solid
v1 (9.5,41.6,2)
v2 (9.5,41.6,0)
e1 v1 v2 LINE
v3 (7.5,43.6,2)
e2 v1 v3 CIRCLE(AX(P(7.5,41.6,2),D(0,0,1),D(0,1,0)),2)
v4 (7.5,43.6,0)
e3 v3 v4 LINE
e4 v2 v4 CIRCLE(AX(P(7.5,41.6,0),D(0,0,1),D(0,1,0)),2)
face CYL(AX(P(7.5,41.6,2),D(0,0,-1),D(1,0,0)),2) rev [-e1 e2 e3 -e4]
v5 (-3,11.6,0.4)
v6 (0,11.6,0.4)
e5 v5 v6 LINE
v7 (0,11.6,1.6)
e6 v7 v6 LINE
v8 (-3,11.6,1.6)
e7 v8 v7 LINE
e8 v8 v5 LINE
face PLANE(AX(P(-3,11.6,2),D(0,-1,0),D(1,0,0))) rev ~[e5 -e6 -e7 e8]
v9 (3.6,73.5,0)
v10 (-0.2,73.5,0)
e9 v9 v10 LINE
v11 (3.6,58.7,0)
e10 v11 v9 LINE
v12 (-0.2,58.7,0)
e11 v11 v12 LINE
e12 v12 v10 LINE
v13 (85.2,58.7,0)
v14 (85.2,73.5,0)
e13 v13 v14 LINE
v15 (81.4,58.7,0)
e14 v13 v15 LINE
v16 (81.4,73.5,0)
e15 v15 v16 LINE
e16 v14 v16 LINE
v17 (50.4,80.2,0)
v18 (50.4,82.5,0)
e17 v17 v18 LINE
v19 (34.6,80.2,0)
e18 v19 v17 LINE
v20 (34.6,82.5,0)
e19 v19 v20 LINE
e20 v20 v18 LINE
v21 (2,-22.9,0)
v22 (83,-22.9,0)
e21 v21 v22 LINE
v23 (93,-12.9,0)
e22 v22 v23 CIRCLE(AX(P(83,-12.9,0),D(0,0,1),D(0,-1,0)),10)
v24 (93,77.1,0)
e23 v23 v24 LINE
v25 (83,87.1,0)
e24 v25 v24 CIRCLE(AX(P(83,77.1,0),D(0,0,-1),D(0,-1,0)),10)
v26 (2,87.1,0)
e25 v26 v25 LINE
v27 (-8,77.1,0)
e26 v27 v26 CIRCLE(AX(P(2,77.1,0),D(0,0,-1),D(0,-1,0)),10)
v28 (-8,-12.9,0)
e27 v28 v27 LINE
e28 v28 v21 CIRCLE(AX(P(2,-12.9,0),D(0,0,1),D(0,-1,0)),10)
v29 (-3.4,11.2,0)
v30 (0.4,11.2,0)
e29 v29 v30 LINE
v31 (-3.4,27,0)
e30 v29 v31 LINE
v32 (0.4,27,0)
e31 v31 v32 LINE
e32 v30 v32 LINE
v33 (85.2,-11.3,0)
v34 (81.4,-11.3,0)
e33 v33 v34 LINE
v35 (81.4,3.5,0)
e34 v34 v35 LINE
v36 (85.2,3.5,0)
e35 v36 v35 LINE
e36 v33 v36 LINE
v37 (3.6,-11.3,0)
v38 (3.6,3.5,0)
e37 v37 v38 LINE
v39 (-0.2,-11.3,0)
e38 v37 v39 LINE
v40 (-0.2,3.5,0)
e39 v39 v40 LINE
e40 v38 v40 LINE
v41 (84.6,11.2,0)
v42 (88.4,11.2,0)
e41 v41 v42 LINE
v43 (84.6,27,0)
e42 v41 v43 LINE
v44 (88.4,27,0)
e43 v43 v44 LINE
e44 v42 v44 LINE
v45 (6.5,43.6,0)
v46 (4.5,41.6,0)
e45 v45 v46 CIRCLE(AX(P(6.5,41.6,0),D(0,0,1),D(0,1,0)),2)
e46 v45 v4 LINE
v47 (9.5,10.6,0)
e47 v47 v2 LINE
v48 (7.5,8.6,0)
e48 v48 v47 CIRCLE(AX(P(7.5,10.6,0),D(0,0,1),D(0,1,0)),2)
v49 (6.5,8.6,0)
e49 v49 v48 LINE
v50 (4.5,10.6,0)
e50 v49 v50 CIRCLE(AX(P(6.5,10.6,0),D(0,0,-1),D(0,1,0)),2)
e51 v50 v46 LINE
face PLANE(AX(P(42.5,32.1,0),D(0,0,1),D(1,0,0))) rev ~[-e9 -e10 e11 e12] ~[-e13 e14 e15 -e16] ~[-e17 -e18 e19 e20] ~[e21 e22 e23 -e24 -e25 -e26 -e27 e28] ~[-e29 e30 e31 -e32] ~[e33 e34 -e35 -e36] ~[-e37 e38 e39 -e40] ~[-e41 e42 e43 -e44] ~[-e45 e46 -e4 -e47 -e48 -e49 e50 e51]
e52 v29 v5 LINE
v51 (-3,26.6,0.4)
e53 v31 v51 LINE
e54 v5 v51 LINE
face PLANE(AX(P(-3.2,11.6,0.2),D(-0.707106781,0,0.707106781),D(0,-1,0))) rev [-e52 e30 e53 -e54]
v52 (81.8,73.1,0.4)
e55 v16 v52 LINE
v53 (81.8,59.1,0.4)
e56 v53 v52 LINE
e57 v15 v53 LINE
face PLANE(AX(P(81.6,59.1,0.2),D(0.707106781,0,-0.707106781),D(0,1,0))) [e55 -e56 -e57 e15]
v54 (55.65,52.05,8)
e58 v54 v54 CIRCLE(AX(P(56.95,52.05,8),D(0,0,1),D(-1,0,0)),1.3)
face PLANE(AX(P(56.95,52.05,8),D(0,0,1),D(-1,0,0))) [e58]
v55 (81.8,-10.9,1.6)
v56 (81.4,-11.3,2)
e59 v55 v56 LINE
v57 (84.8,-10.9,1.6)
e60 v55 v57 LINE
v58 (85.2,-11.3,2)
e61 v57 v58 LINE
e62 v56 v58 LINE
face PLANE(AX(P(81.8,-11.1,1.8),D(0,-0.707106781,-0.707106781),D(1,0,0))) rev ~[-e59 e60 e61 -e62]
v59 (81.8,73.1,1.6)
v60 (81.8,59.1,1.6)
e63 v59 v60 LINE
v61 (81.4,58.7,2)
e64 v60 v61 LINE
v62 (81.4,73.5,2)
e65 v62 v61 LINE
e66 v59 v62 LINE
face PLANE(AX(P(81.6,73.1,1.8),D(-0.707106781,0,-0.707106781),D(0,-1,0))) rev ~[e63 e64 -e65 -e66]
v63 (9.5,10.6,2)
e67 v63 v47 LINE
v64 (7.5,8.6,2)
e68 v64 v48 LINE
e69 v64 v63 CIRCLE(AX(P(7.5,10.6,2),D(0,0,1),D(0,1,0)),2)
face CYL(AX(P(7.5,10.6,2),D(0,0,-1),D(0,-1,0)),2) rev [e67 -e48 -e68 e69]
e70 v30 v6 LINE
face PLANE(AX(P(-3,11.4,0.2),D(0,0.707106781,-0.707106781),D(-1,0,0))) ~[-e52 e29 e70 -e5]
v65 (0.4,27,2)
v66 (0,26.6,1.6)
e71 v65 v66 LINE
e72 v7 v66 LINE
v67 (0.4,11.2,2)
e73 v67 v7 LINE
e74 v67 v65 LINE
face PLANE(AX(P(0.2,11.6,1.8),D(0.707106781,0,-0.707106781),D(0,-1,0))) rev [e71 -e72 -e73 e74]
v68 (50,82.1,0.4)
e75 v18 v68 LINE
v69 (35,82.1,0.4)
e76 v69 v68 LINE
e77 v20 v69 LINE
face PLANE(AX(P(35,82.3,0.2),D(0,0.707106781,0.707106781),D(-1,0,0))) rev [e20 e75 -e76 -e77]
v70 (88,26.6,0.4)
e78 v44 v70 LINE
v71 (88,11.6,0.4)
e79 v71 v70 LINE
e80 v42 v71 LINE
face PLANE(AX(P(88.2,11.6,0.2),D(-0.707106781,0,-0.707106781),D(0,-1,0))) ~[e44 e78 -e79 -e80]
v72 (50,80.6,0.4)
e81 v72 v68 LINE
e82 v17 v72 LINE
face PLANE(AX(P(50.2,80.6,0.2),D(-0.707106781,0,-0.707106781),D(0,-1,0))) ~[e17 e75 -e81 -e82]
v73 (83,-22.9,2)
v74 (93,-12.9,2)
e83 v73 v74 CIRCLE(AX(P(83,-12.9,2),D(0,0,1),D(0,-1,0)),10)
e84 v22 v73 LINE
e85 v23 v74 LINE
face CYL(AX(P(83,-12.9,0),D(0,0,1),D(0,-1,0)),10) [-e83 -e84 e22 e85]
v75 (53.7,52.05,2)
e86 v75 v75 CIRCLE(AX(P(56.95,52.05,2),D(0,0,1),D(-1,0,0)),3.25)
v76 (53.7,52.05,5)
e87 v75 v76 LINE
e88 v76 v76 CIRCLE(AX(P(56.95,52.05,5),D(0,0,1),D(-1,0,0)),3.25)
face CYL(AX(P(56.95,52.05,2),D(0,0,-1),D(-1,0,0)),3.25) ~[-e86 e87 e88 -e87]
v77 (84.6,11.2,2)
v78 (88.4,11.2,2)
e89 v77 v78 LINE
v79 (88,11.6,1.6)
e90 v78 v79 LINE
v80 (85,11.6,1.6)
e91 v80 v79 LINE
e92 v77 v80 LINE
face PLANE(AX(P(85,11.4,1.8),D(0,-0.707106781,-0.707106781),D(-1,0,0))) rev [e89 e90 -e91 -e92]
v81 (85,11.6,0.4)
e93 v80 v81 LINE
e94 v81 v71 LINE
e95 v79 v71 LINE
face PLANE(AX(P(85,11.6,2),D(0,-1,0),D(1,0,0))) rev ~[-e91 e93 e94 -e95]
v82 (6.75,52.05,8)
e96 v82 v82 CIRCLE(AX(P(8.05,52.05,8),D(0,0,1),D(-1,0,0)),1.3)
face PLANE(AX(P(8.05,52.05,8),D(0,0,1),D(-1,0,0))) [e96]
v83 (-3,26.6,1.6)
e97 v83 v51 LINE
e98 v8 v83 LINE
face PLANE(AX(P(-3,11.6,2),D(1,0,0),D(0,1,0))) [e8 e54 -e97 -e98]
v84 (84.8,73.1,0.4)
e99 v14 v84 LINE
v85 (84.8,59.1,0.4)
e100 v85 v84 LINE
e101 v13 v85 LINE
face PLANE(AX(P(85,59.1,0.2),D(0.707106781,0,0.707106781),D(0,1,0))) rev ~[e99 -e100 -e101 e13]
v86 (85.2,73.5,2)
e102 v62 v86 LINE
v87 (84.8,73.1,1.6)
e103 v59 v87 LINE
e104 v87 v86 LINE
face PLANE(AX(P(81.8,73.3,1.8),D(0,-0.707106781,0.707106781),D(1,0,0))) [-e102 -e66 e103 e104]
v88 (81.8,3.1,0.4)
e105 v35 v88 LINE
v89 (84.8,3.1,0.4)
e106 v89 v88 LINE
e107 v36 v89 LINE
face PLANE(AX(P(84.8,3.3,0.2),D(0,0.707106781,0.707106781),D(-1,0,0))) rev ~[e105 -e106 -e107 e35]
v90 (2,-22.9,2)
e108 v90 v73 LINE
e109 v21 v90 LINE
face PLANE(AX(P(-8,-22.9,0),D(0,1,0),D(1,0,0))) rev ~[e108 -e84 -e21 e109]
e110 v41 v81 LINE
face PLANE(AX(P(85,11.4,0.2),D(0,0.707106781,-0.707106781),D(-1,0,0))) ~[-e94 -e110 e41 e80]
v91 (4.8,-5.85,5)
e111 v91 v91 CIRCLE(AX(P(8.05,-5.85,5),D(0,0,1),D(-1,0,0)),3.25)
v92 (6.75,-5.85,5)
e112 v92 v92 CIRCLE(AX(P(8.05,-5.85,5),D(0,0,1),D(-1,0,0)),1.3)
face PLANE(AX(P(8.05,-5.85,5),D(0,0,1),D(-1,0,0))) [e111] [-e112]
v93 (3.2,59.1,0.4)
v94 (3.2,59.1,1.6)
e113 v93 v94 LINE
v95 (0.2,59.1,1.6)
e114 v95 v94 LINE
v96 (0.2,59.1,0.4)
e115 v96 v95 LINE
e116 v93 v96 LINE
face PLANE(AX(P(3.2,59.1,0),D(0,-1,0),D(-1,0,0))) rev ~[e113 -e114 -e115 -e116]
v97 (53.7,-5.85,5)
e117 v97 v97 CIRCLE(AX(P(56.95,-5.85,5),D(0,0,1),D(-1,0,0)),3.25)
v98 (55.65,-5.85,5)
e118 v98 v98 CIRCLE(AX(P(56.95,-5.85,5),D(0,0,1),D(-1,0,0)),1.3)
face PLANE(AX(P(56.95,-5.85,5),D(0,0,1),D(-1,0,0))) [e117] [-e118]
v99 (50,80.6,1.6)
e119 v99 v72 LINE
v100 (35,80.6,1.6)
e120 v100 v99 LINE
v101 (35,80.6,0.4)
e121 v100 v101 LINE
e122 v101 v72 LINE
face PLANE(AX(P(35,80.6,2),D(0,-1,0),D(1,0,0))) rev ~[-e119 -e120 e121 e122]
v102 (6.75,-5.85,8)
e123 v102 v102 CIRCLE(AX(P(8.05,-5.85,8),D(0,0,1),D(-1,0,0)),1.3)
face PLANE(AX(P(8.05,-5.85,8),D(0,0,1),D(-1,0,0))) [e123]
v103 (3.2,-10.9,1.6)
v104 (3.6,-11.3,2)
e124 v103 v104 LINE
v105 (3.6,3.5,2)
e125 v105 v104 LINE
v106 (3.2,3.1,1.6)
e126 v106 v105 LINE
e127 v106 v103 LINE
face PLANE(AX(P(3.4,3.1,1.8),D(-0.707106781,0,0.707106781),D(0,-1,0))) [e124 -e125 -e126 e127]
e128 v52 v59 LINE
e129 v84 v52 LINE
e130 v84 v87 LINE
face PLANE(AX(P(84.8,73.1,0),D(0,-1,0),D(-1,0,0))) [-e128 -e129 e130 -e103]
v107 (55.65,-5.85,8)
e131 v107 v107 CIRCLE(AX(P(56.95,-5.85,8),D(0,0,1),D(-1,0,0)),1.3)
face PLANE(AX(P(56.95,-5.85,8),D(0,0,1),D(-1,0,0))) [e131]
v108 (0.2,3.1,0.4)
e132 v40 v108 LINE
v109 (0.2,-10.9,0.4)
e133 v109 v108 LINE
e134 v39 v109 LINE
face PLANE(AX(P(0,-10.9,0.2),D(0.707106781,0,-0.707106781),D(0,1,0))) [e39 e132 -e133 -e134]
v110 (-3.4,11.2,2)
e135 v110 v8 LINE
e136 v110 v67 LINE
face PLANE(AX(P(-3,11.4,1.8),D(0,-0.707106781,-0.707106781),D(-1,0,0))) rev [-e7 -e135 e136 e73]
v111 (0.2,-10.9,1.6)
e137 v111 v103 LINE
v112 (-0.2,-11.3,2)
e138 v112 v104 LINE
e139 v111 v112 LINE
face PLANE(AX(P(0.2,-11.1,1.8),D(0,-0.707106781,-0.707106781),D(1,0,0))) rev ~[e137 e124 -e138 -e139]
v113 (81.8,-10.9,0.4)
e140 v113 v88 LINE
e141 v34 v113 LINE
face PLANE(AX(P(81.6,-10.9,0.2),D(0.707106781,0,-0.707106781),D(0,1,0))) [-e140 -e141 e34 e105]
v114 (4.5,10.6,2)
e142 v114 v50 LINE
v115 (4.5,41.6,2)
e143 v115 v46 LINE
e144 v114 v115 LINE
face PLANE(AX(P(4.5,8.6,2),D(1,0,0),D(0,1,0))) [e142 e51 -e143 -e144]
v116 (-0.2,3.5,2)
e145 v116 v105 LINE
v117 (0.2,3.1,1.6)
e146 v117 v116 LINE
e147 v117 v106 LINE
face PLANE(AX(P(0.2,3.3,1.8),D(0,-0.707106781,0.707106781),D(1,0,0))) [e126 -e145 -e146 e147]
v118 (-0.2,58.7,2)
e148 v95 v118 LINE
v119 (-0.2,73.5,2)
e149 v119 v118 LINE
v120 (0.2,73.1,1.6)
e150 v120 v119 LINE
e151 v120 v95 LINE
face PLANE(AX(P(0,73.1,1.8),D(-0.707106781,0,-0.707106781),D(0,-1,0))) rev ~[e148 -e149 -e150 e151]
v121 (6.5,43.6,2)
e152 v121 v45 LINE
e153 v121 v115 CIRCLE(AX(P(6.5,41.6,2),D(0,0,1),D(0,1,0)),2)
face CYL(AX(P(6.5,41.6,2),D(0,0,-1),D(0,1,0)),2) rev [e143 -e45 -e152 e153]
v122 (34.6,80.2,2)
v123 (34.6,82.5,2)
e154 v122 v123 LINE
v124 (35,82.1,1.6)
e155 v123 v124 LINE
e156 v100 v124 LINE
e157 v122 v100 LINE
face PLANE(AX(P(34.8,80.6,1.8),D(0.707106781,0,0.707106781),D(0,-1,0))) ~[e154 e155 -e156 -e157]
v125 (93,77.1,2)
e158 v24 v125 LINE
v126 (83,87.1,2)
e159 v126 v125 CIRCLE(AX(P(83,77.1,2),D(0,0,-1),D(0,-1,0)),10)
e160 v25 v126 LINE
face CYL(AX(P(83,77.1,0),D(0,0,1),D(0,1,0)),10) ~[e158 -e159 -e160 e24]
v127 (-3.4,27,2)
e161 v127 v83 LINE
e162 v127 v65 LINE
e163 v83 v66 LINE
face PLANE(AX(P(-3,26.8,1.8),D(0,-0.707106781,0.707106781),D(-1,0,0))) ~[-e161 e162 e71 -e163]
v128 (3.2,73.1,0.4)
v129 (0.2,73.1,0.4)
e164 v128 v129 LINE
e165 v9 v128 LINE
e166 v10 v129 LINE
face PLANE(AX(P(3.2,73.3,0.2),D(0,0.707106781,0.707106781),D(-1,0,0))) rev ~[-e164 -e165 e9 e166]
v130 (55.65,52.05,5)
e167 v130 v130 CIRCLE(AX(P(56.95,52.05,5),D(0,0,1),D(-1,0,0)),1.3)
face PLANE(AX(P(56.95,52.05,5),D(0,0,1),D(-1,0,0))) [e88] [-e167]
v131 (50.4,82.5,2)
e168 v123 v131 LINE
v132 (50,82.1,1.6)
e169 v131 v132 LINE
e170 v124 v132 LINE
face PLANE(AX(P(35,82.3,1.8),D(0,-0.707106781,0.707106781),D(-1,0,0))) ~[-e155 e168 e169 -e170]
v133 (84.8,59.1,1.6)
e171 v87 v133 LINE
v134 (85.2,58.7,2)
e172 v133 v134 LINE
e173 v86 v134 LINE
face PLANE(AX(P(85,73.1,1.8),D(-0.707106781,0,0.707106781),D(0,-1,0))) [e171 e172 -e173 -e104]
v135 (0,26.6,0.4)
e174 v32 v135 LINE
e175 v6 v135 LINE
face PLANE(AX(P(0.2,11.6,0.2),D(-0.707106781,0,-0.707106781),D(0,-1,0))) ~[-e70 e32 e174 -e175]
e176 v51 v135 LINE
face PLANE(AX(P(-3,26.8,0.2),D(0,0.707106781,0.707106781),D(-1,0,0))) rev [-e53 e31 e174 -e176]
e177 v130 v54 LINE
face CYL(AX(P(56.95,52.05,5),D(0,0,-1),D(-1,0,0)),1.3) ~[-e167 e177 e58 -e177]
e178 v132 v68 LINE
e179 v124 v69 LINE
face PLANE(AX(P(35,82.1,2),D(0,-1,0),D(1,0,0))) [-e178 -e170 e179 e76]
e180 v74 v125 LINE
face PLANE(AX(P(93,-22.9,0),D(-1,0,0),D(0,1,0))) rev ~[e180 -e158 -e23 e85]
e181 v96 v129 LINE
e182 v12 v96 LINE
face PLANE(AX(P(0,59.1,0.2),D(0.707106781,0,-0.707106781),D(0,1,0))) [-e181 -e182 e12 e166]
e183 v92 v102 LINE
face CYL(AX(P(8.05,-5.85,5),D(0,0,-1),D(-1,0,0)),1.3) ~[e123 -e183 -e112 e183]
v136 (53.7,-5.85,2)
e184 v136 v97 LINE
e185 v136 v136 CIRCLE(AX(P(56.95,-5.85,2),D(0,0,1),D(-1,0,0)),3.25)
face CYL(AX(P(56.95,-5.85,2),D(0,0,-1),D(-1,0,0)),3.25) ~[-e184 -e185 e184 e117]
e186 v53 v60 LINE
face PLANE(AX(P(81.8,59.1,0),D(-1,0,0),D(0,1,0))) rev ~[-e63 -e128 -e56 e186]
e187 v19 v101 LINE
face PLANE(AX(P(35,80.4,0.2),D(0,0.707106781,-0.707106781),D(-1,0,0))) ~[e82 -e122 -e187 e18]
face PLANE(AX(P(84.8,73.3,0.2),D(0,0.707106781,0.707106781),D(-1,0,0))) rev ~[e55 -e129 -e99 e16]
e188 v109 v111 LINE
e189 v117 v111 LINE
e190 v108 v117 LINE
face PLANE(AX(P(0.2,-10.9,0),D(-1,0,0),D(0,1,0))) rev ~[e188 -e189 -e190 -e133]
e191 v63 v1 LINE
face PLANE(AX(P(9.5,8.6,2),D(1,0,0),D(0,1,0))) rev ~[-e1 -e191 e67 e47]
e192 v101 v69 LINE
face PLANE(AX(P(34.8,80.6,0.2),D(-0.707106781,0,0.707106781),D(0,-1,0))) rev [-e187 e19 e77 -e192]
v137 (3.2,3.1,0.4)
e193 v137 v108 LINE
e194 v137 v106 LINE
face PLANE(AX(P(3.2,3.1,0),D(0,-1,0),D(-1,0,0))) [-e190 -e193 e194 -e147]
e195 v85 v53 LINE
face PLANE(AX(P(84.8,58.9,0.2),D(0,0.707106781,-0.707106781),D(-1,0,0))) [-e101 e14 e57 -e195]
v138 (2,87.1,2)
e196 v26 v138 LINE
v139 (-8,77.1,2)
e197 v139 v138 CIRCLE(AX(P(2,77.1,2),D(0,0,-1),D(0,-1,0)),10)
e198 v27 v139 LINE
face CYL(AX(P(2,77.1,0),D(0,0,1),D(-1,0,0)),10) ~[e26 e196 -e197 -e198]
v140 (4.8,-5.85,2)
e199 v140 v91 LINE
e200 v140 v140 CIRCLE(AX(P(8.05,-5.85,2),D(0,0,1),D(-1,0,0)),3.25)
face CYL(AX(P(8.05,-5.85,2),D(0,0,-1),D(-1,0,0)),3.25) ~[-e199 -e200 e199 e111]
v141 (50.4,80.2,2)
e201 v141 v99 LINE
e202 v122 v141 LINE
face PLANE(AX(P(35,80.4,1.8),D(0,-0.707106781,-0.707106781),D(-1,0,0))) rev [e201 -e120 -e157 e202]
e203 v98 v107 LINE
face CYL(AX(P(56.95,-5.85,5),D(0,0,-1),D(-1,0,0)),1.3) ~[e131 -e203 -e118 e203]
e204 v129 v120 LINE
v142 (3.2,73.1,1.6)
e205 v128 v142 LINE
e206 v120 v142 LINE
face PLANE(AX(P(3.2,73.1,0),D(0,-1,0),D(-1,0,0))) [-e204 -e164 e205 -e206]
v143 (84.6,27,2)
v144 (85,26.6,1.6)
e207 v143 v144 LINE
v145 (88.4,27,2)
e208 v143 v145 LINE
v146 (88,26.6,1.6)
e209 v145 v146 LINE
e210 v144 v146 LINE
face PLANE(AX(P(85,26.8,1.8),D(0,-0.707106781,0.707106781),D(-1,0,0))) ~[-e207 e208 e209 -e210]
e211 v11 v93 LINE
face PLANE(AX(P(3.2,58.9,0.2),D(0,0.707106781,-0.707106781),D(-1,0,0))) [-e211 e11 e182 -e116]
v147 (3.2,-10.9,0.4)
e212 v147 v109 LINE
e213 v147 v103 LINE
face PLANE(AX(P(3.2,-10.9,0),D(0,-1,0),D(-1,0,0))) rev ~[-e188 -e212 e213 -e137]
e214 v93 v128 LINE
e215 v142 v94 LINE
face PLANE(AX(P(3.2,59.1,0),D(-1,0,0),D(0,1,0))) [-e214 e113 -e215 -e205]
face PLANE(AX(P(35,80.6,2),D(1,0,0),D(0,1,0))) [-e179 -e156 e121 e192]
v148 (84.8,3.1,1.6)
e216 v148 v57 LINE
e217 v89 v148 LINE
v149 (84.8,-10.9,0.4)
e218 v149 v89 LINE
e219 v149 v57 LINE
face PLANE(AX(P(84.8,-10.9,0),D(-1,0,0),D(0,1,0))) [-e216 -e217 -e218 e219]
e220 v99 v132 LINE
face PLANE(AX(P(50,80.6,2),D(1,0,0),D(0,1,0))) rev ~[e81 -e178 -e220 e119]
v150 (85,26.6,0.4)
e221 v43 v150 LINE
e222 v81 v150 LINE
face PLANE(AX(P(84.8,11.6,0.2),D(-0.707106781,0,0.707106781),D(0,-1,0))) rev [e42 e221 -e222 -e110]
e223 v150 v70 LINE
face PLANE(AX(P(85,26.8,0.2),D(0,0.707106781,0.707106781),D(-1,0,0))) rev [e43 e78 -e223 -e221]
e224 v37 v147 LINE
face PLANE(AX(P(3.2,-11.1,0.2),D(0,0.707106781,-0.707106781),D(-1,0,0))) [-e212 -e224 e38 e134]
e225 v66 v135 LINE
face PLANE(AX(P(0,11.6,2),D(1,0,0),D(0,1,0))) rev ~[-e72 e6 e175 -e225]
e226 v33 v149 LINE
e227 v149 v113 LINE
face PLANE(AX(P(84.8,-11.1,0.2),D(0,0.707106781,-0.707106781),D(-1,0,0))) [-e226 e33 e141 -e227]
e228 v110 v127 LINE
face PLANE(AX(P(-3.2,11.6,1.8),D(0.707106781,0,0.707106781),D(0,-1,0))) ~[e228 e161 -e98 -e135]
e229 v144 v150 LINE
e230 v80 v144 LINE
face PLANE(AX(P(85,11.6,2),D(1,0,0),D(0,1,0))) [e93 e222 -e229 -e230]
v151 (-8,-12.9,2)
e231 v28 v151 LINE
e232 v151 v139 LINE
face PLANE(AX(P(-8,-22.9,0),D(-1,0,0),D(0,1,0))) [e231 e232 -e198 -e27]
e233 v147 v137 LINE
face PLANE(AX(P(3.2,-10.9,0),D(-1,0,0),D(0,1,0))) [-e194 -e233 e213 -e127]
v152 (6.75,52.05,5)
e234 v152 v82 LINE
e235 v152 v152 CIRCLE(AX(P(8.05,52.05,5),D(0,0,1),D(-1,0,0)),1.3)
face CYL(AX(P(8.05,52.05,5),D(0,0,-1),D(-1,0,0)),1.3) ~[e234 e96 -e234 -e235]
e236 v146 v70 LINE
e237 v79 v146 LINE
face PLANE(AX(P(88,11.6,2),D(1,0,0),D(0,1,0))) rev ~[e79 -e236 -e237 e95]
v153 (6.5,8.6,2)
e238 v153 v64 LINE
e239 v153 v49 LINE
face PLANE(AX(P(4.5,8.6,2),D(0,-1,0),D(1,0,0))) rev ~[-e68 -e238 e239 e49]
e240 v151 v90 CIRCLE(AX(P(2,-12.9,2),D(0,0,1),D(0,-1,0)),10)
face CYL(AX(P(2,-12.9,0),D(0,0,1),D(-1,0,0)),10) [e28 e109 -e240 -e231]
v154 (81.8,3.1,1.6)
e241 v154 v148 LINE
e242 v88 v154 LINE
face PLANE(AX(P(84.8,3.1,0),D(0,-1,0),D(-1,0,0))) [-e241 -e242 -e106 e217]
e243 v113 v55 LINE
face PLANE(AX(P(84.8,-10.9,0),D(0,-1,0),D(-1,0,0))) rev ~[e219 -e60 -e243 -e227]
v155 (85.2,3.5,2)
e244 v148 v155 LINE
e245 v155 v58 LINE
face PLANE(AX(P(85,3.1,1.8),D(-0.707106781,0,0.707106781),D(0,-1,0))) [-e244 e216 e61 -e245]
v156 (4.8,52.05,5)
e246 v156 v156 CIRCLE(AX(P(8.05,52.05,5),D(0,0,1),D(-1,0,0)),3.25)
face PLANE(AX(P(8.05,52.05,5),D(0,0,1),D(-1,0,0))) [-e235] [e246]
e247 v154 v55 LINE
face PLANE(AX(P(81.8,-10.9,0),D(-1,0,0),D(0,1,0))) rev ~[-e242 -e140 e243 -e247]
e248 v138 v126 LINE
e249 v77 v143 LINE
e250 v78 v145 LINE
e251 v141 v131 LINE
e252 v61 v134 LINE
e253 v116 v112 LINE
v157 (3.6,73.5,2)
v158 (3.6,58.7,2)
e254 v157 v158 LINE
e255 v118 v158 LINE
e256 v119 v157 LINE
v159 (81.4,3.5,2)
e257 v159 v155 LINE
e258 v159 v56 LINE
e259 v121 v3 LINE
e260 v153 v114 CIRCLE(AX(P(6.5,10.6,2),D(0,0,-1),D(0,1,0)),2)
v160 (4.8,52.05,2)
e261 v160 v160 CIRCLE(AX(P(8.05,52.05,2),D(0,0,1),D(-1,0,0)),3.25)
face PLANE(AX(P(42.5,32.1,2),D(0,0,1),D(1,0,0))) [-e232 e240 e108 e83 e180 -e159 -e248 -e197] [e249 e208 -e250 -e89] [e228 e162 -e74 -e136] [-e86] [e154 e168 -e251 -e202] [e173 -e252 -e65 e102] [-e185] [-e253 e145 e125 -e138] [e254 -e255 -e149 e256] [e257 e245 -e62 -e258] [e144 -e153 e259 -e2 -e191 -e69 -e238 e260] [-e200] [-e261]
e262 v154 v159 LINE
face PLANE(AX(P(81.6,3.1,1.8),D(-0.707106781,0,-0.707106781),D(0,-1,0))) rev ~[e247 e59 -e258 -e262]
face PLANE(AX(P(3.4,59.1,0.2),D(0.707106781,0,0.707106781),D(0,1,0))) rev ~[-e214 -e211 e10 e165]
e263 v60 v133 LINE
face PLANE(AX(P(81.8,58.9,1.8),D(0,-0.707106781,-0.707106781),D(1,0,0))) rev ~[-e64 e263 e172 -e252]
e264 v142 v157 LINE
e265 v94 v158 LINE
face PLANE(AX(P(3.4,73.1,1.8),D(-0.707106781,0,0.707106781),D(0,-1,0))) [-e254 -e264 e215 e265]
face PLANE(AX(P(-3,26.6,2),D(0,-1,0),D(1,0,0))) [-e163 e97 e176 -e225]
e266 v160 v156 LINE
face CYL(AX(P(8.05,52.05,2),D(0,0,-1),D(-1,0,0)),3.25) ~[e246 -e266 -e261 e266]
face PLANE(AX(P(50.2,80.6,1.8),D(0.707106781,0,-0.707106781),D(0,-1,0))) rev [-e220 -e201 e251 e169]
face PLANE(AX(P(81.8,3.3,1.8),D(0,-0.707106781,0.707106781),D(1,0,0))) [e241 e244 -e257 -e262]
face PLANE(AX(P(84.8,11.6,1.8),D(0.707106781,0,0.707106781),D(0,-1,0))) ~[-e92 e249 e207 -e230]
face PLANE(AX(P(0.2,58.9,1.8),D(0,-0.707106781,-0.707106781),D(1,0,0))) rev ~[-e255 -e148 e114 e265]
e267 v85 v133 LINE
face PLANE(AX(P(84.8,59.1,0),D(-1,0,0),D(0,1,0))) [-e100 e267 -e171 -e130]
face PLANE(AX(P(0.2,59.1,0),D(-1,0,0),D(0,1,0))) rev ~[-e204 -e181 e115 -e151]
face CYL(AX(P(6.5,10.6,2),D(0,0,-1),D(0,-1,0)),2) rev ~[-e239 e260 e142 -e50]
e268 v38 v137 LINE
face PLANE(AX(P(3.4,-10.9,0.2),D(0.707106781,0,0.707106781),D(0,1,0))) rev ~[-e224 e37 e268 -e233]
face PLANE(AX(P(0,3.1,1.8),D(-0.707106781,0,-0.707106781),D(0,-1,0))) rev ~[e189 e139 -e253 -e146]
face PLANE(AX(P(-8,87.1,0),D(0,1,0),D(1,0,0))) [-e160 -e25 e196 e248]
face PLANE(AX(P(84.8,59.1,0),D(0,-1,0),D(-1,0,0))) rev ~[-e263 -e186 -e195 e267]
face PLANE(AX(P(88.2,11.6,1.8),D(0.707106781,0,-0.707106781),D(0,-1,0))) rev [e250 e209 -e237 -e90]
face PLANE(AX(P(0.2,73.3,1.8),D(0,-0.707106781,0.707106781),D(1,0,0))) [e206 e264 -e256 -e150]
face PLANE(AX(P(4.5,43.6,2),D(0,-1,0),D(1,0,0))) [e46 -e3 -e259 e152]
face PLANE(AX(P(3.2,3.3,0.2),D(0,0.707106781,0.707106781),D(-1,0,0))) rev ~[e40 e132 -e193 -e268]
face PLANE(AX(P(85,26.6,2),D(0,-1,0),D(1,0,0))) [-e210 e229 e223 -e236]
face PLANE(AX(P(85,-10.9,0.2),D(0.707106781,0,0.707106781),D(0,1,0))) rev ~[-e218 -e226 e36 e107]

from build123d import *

# Parameters (mm, degrees)
SKETCH1_W           = 101
SKETCH1_H           = 110
BOSS_EXTRUDE1_DEPTH = 2
SKETCH3_W           = 15
SKETCH3_H           = 1.5
SKETCH3_W_2         = 3
SKETCH3_H_2         = 15
CUT_EXTRUDE1_DEPTH  = 128.433943673
SKETCH7_R           = 3.25
BOSS_EXTRUDE2_DEPTH = 3
SKETCH8_R           = 1.3
BOSS_EXTRUDE3_DEPTH = 3
CHAMFER2_SIZE       = 0.4
SKETCH9_W           = 3
SKETCH9_H           = 14
CUT_EXTRUDE2_DEPTH  = 5
CHAMFER3_SIZE       = 0.4
SKETCH10_W          = 5
SKETCH10_H          = 35
CUT_EXTRUDE3_DEPTH  = 128.559437126
FILLET1_R           = 2
FILLET2_R           = 10


with BuildPart() as part:
    # Sketch1 → Boss-Extrude1 (new body)
    with BuildSketch(Plane.XY):
        with Locations((42.5, 32.1)):
            Rectangle(SKETCH1_W, SKETCH1_H)
    extrude(amount=BOSS_EXTRUDE1_DEPTH)

    # Sketch3 → Cut-Extrude1 (cut, through all)
    with BuildSketch(Plane.XY.offset(2)):
        with Locations((42.5, 81.35)):
            Rectangle(SKETCH3_W, SKETCH3_H)
        with Locations((-1.5, 19.1)):
            Rectangle(SKETCH3_W_2, SKETCH3_H_2)
        with Locations((86.5, 19.1)):
            Rectangle(SKETCH3_W_2, SKETCH3_H_2)
    extrude(amount=-CUT_EXTRUDE1_DEPTH, mode=Mode.SUBTRACT)

    # Sketch7 → Boss-Extrude2 (add)
    with BuildSketch(Plane.XY.offset(2)):
        with Locations(Location((8.05, 52.05, 0), (0, 0, 180))):
            Circle(SKETCH7_R)
        with Locations(Location((56.95, 52.05, 0), (0, 0, 180))):
            Circle(SKETCH7_R)
        with Locations(Location((8.05, -5.85, 0), (0, 0, 180))):
            Circle(SKETCH7_R)
        with Locations(Location((56.95, -5.85, 0), (0, 0, 180))):
            Circle(SKETCH7_R)
    extrude(amount=BOSS_EXTRUDE2_DEPTH)

    # Sketch8 → Boss-Extrude3 (add)
    with BuildSketch(Plane.XY.offset(5)):
        with Locations(Location((8.05, -5.85, 0), (0, 0, 180))):
            Circle(SKETCH8_R)
        with Locations(Location((56.95, -5.85, 0), (0, 0, 180))):
            Circle(SKETCH8_R)
        with Locations(Location((56.95, 52.05, 0), (0, 0, 180))):
            Circle(SKETCH8_R)
        with Locations(Location((8.05, 52.05, 0), (0, 0, 180))):
            Circle(SKETCH8_R)
    extrude(amount=BOSS_EXTRUDE3_DEPTH)

    # Chamfer2
    chamfer2_edges = [part.edges().sort_by_distance(p)[0] for p in [
        (35, 81.35, 0),
        (42.5, 82.1, 0),
        (50, 81.35, 0),
        (42.5, 80.6, 0),
        (35, 81.35, 2),
        (42.5, 80.6, 2),
        (50, 81.35, 2),
        (42.5, 82.1, 2),
        (-3, 19.1, 0),
        (-1.5, 26.6, 0),
        (0, 19.1, 0),
        (-1.5, 11.6, 0),
        (-3, 19.1, 2),
        (-1.5, 11.6, 2),
        (0, 19.1, 2),
        (-1.5, 26.6, 2),
        (85, 19.1, 0),
        (86.5, 26.6, 0),
        (88, 19.1, 0),
        (86.5, 11.6, 0),
        (85, 19.1, 2),
        (86.5, 11.6, 2),
        (88, 19.1, 2),
        (86.5, 26.6, 2),
    ]]
    chamfer(chamfer2_edges, length=CHAMFER2_SIZE)

    # Sketch9 → Cut-Extrude2 (cut)
    with BuildSketch(Plane(origin=(0, 0, 0), x_dir=(-1, 0, 0), z_dir=(0, 0, -1))):
        with Locations((-83.3, -3.9)):
            Rectangle(SKETCH9_W, SKETCH9_H)
        with Locations((-83.3, 66.1)):
            Rectangle(SKETCH9_W, SKETCH9_H)
        with Locations((-1.7, -3.9)):
            Rectangle(SKETCH9_W, SKETCH9_H)
        with Locations((-1.7, 66.1)):
            Rectangle(SKETCH9_W, SKETCH9_H)
    extrude(amount=-CUT_EXTRUDE2_DEPTH, mode=Mode.SUBTRACT)

    # Chamfer3
    chamfer3_edges = [part.edges().sort_by_distance(p)[0] for p in [
        (84.8, -3.9, 2),
        (83.3, 3.1, 2),
        (81.8, -3.9, 2),
        (83.3, -10.9, 2),
        (84.8, -3.9, 0),
        (83.3, -10.9, 0),
        (81.8, -3.9, 0),
        (83.3, 3.1, 0),
        (84.8, 66.1, 2),
        (83.3, 73.1, 2),
        (81.8, 66.1, 2),
        (83.3, 59.1, 2),
        (84.8, 66.1, 0),
        (83.3, 59.1, 0),
        (81.8, 66.1, 0),
        (83.3, 73.1, 0),
        (3.2, -3.9, 2),
        (1.7, 3.1, 2),
        (0.2, -3.9, 2),
        (1.7, -10.9, 2),
        (3.2, -3.9, 0),
        (1.7, -10.9, 0),
        (0.2, -3.9, 0),
        (1.7, 3.1, 0),
        (3.2, 66.1, 2),
        (1.7, 73.1, 2),
        (0.2, 66.1, 2),
        (1.7, 59.1, 2),
        (3.2, 66.1, 0),
        (1.7, 59.1, 0),
        (0.2, 66.1, 0),
        (1.7, 73.1, 0),
    ]]
    chamfer(chamfer3_edges, length=CHAMFER3_SIZE)

    # Sketch10 → Cut-Extrude3 (cut, through all)
    with BuildSketch(Plane.XY.offset(2)):
        with Locations((7, 26.1)):
            Rectangle(SKETCH10_W, SKETCH10_H)
    extrude(amount=-CUT_EXTRUDE3_DEPTH, mode=Mode.SUBTRACT)

    # Fillet1
    fillet1_edges = [part.edges().sort_by_distance(p)[0] for p in [
        (4.5, 8.6, 1),
        (4.5, 43.6, 1),
        (9.5, 43.6, 1),
        (9.5, 8.6, 1),
    ]]
    fillet(fillet1_edges, radius=FILLET1_R)

    # Fillet2
    fillet2_edges = [part.edges().sort_by_distance(p)[0] for p in [
        (-8, 87.1, 1),
        (93, 87.1, 1),
        (93, -22.9, 1),
        (-8, -22.9, 1),
    ]]
    fillet(fillet2_edges, radius=FILLET2_R)


solid = part.part
